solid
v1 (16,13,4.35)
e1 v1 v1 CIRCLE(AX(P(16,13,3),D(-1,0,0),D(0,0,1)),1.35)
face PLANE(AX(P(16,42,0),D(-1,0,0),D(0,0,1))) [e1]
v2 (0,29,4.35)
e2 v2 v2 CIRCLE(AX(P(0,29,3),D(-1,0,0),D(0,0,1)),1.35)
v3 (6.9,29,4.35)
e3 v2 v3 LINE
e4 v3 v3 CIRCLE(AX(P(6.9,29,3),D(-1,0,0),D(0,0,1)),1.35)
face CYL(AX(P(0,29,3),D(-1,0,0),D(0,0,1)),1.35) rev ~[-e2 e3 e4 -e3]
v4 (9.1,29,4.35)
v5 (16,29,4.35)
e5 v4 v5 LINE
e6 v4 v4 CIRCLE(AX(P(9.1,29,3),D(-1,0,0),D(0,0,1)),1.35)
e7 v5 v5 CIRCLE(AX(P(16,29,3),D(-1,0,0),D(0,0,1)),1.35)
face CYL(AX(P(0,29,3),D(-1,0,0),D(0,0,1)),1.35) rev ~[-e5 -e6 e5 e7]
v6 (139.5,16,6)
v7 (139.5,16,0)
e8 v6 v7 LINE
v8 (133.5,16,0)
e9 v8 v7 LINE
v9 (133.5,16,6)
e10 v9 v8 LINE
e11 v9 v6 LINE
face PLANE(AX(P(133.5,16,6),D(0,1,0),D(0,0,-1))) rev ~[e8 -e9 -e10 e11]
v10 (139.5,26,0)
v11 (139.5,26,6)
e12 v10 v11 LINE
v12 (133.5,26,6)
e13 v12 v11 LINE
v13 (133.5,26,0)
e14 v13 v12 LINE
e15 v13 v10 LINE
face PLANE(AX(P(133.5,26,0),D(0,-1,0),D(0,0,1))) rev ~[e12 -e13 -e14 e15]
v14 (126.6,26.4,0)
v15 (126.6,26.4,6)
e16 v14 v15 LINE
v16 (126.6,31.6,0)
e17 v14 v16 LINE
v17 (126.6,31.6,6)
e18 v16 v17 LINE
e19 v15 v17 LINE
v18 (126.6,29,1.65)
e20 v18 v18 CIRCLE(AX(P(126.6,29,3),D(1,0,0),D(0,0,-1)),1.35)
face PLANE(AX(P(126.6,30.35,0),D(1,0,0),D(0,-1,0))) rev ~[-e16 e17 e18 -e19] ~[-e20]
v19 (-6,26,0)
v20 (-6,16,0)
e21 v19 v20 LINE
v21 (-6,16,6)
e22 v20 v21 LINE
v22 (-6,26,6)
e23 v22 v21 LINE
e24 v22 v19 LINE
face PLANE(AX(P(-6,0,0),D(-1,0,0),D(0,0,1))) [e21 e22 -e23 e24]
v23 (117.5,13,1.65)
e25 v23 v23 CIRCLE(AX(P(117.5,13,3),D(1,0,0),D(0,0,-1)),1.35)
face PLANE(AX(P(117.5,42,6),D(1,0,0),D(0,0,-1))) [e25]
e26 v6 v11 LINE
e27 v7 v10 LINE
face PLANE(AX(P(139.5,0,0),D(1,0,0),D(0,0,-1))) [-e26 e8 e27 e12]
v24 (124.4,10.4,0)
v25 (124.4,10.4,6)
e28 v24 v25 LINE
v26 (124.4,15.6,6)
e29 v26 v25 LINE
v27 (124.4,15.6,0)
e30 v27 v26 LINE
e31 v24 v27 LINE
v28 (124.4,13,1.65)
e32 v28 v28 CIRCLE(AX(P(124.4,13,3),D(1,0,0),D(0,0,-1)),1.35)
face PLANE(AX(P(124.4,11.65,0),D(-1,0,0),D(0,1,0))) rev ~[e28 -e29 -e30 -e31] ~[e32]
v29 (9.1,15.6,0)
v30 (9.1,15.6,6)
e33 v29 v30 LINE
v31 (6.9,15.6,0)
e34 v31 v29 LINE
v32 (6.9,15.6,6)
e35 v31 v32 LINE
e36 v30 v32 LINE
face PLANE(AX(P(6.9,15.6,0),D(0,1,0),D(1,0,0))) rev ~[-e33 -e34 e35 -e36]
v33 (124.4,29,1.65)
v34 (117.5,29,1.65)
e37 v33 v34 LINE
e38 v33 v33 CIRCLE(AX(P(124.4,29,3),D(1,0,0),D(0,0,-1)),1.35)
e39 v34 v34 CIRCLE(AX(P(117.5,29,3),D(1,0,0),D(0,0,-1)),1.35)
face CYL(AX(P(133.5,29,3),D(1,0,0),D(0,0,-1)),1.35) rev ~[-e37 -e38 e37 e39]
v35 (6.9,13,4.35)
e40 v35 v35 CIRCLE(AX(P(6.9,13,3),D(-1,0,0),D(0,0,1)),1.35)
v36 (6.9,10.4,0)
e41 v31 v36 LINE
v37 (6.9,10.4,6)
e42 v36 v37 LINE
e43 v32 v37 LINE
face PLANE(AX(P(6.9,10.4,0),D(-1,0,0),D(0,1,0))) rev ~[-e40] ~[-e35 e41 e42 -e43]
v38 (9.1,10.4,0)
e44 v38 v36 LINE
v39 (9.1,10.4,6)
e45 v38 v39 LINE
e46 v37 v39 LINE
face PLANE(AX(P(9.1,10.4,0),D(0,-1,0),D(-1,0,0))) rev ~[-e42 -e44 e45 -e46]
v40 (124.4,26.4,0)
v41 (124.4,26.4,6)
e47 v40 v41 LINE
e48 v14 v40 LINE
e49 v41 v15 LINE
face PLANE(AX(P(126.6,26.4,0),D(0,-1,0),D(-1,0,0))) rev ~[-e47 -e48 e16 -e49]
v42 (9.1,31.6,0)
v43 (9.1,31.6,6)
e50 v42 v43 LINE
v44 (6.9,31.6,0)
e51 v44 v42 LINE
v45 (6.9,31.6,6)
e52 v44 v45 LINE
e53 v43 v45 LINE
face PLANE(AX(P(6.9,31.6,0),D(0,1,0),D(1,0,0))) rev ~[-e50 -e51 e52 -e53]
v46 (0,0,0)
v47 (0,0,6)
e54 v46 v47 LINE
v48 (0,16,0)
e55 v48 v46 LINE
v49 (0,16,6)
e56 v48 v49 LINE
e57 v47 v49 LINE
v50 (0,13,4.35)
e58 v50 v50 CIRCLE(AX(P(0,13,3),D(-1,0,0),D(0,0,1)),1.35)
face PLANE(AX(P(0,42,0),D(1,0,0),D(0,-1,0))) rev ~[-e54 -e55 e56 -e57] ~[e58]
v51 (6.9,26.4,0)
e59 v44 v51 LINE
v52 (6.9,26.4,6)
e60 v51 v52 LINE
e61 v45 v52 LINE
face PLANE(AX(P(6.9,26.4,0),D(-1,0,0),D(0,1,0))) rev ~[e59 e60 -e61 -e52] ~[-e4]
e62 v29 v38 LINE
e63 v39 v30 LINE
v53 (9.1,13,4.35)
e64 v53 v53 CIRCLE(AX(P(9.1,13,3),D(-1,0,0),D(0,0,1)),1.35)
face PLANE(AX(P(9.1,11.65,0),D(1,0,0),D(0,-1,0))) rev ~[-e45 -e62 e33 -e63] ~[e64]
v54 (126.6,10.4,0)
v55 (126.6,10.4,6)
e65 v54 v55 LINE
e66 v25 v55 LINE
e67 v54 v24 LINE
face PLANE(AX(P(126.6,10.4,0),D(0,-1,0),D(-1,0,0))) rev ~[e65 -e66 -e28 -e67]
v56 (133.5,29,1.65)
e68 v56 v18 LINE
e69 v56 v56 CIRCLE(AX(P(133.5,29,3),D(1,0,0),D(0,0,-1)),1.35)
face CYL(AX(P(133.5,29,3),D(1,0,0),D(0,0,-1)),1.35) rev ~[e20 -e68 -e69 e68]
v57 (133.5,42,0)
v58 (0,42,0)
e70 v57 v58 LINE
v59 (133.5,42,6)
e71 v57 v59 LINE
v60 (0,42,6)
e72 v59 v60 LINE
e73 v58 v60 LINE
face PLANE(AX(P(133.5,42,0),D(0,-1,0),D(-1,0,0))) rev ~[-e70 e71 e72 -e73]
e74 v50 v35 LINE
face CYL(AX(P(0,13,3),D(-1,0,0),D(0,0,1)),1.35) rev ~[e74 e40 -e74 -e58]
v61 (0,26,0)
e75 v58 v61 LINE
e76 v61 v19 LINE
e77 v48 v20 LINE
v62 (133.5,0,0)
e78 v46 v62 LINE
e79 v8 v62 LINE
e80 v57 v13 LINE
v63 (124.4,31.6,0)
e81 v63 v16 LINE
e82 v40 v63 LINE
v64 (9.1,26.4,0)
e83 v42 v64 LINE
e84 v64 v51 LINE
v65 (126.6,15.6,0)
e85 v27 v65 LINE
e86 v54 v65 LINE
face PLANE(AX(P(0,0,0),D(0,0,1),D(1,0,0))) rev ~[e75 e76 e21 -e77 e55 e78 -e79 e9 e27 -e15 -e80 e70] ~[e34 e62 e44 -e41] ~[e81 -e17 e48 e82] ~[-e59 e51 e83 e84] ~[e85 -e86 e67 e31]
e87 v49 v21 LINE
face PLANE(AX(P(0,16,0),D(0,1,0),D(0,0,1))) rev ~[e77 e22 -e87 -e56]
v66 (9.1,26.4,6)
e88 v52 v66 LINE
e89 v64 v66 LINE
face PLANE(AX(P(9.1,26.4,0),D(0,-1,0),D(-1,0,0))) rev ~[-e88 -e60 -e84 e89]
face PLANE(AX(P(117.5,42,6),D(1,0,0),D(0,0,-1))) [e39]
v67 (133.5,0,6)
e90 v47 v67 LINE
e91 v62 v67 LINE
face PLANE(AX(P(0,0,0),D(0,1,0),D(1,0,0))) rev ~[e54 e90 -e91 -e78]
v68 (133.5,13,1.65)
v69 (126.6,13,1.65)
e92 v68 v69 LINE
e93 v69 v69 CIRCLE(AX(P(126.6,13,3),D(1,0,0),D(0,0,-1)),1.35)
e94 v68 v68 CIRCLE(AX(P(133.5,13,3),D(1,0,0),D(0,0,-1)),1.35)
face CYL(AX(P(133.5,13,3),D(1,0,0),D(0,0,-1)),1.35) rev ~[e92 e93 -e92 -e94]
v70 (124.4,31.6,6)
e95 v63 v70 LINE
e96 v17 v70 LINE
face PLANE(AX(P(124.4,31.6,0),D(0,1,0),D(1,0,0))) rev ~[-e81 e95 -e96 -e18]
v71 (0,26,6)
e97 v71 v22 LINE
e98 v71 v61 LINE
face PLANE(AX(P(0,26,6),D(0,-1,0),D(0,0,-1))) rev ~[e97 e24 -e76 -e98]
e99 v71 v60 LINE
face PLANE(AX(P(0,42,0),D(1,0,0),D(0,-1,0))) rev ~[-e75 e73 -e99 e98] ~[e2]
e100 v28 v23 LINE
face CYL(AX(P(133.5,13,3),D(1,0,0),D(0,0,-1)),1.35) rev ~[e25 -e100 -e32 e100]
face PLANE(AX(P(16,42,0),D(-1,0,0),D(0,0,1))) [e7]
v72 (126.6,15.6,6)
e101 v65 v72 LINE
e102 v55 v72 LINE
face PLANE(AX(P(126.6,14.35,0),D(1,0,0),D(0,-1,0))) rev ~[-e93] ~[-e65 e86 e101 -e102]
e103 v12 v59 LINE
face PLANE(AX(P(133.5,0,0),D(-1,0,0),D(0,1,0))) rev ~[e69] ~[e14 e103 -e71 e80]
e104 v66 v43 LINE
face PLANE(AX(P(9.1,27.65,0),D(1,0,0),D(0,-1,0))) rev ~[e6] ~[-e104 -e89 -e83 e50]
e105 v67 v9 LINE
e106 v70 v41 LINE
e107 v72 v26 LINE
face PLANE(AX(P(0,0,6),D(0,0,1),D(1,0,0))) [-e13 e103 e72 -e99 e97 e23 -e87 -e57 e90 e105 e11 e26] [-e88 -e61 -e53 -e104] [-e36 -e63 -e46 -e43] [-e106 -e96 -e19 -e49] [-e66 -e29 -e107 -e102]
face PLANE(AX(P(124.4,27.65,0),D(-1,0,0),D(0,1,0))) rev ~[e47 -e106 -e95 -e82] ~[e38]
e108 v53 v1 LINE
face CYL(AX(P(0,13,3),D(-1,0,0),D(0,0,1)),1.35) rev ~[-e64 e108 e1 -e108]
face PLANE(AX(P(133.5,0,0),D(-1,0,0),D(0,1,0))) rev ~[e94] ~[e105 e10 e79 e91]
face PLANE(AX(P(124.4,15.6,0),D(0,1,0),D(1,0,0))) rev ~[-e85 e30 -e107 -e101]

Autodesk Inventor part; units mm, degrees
ref_plane "YZ Plane" through (0, 0, 0) normal (1, 0, 0) x (0, 1, 0)
ref_plane "XZ Plane" through (0, 0, 0) normal (0, 1, 0) x (-1, 0, 0)
ref_plane "XY Plane" through (0, 0, 0) normal (0, 0, 1) x (1, 0, 0)
sketch "스케치1" plane through (0, 0, 0) normal (0, 0, 1) x (1, 0, 0)
  line L0 (0, 0) -> (133.5, 0)
  line L1 (133.5, 0) -> (133.5, 42)
  line L2 (133.5, 42) -> (0, 42)
  line L3 (0, 42) -> (0, 0)
  dimension "d0" = 133.5
  dimension "d1" = 42
extrude "돌출1" add sketch "스케치1" along normal blind 6
sketch "스케치2" plane through (133.5, 0, 0) normal (1, 0, 0) x (0, 0, -1)
  line L0 (0, 0) -> (0, 42) projected
  line L1 (0, 42) -> (-6, 42) projected
  line L2 (-6, 0) -> (-6, 42) projected
  line L3 (0, 0) -> (-6, 0) projected
  line L4 (-6, 16) -> (0, 16)
  line L5 (0, 16) -> (0, 26)
  line L6 (0, 26) -> (-6, 26)
  line L7 (-6, 26) -> (-6, 16)
  line L8 (-6, 16) -> (0, 26) construction
  line L9 (0, 16) -> (-6, 26) construction
  point P0 (-3, 21)
  dimension "d4" = 10
extrude "돌출2" add sketch "스케치2" along normal blind 6 contours L4 L2 L6 L0
sketch "스케치3" plane through (0, 0, 0) normal (-1, 0, 0) x (0, 0, 1)
  line L0 (6, 26) -> (0, 26) projected
  line L1 (0, 16) -> (6, 16) projected
  line L2 (0, 42) -> (0, 0) projected
  line L3 (0, 0) -> (6, 0) projected
  line L4 (6, 42) -> (6, 0) projected
  line L5 (0, 42) -> (6, 42) projected
extrude "돌출3" add sketch "스케치3" along normal blind 6 contours L4 L1 L2 L0
sketch "스케치4" plane through (0, 42, 0) normal (-1, 0, 0) x (0, 0, 1)
  line L0 (0, -16) -> (6, -16) projected
  line L1 (6, 0) -> (6, -16) projected
  line L2 (0, 0) -> (6, 0) projected
  line L3 (0, 0) -> (0, -16) projected
  line L4 (6, -26) -> (0, -26) projected
  line L5 (0, -26) -> (0, -42) projected
  line L6 (0, -42) -> (6, -42) projected
  line L7 (6, -26) -> (6, -42) projected
  line L8 (0, -16) -> (6, -16)
  line L9 (6, -16) -> (6, -10)
  line L10 (6, -10) -> (0, -10)
  line L11 (0, -10) -> (0, -16)
  line L12 (6, -26) -> (0, -26)
  line L13 (0, -26) -> (0, -32)
  line L14 (0, -32) -> (6, -32)
  line L15 (6, -32) -> (6, -26)
  circle A0 centre (3, -13) radius 1.35
  circle A1 centre (3, -29) radius 1.35
  dimension "d9" = 6
  dimension "d10" = 6
  dimension "d11" = 6
  dimension "d12" = 6
  dimension "d13" = 2.7
  dimension "d14" = 2.7
extrude "돌출4" cut sketch "스케치4" against normal blind 16 contours A0 | A1
sketch "스케치5" plane through (133.5, 42, 6) normal (1, 0, 0) x (0, 0, -1)
  circle A0 centre (3, -13) radius 1.35 projected
  circle A1 centre (3, -29) radius 1.35 projected
  point P0 (6, -42)
extrude "돌출5" cut sketch "스케치5" against normal blind 16
sketch "스케치7" plane through (0, 0, 0) normal (0, 0, -1) x (-1, 0, 0)
  line L0 (-133.5, 0) -> (-133.5, 16) projected
  line L1 (-133.5, 11.65) -> (-133.5, 14.35) projected
  line L2 (-133.5, 0) -> (-133.5, 16) projected
  line L3 (-133.5, 11.65) -> (-133.5, 14.35) projected
  line L4 (-133.5, 0) -> (-133.5, 16) projected
  line L5 (-133.5, 0) -> (-133.5, 16) projected
  line L6 (-133.5, 42) -> (0, 42) projected
  line L7 (-133.5, 42) -> (0, 42) projected
  line L8 (0, 0) -> (-133.5, 0) projected
  line L9 (0, 0) -> (-133.5, 0) projected
  line L10 (-133.5, 16) -> (-139.5, 16) projected
  line L11 (-133.5, 16) -> (-139.5, 16) projected
  line L12 (-133.5, 16) -> (-139.5, 16) projected
  line L13 (-133.5, 16) -> (-139.5, 16) projected
  line L14 (-117.5, 11.65) -> (-117.5, 14.35) projected
  line L15 (-117.5, 11.65) -> (-117.5, 14.35) projected
  line L16 (-133.5, 11.65) -> (-133.5, 14.35) projected
  line L17 (-117.5, 11.65) -> (-117.5, 14.35) projected
  line L18 (-133.5, 26) -> (-139.5, 26) projected
  line L19 (-133.5, 26) -> (-139.5, 26) projected
  line L20 (-133.5, 26) -> (-139.5, 26) projected
  line L21 (-133.5, 26) -> (-139.5, 26) projected
  line L22 (-139.5, 26) -> (-139.5, 16) projected
  line L23 (-139.5, 16) -> (-139.5, 26) projected
  line L24 (-117.5, 27.65) -> (-117.5, 30.35) projected
  line L25 (-133.5, 27.65) -> (-133.5, 30.35) projected
  line L26 (-133.5, 26) -> (-133.5, 42) projected
  line L27 (-133.5, 26) -> (-133.5, 42) projected
  line L28 (-133.5, 27.65) -> (-133.5, 30.35) projected
  line L29 (-133.5, 26) -> (-133.5, 42) projected
  line L30 (-133.5, 26) -> (-133.5, 42) projected
  line L31 (0, 16) -> (0, 0) projected
  line L32 (0, 16) -> (0, 0) projected
  line L33 (0, 0) -> (-133.5, 0) projected
  line L34 (0, 0) -> (-133.5, 0) projected
  line L35 (-133.5, 0) -> (-133.5, 16) projected
  line L36 (-133.5, 16) -> (-139.5, 16) projected
  line L37 (-139.5, 26) -> (-139.5, 16) projected
  line L38 (-133.5, 26) -> (-139.5, 26) projected
  line L39 (-133.5, 26) -> (-133.5, 42) projected
  line L40 (-133.5, 42) -> (0, 42) projected
  line L41 (0, 42) -> (0, 26) projected
  line L42 (0, 26) -> (6, 26) projected
  line L43 (6, 16) -> (6, 26) projected
  line L44 (0, 16) -> (6, 16) projected
  line L45 (0, 16) -> (0, 0) projected
  line L46 (0, 0) -> (-133.5, 0) projected
  line L47 (-133.5, 0) -> (-133.5, 16) projected
  line L48 (0, 0) -> (-133.5, 0) projected
  line L49 (0, 16) -> (0, 0) projected
  line L50 (0, 16) -> (6, 16) projected
  line L51 (6, 26) -> (6, 16) projected
  line L52 (0, 26) -> (6, 26) projected
  line L53 (0, 42) -> (0, 26) projected
  line L54 (-133.5, 42) -> (0, 42) projected
  line L55 (-133.5, 26) -> (-133.5, 42) projected
  line L56 (-133.5, 26) -> (-139.5, 26) projected
  line L57 (-139.5, 16) -> (-139.5, 26) projected
  line L58 (-133.5, 16) -> (-139.5, 16) projected
  line L59 (0, 42) -> (0, 26) projected
  line L60 (0, 42) -> (0, 26) projected
  line L61 (-133.5, 42) -> (0, 42) projected
  line L62 (-133.5, 42) -> (0, 42) projected
  line L63 (-133.5, 27.65) -> (-133.5, 30.35) projected
  line L64 (-139.5, 26) -> (-139.5, 16) projected
  line L65 (-139.5, 16) -> (-139.5, 26) projected
  line L66 (-16, 14.35) -> (-16, 11.65) projected
  line L67 (-16, 14.35) -> (-16, 11.65) projected
  line L68 (0, 14.35) -> (0, 11.65) projected
  line L69 (0, 16) -> (0, 0) projected
  line L70 (0, 16) -> (0, 0) projected
  line L71 (-16, 30.35) -> (-16, 27.65) projected
  line L72 (0, 30.35) -> (0, 27.65) projected
  line L73 (-16, 14.35) -> (-16, 11.65) projected
  line L74 (0, 14.35) -> (0, 11.65) projected
  line L75 (0, 14.35) -> (0, 11.65) projected
  line L76 (0, 30.35) -> (0, 27.65) projected
  line L77 (0, 30.35) -> (0, 27.65) projected
  line L78 (0, 42) -> (0, 26) projected
  line L79 (0, 42) -> (0, 26) projected
  line L80 (6, 16) -> (6, 26) projected
  line L81 (0, 16) -> (6, 16) projected
  line L82 (6, 26) -> (6, 16) projected
  line L83 (6, 16) -> (6, 26) projected
  line L84 (0, 16) -> (6, 16) projected
  line L85 (0, 16) -> (6, 16) projected
  line L86 (0, 16) -> (6, 16) projected
  line L87 (0, 26) -> (6, 26) projected
  line L88 (0, 26) -> (6, 26) projected
  line L89 (0, 26) -> (6, 26) projected
  line L90 (6, 26) -> (6, 16) projected
  line L91 (-16, 30.35) -> (-16, 27.65) projected
  line L92 (-16, 30.35) -> (-16, 27.65) projected
  line L93 (0, 26) -> (6, 26) projected
  line L94 (-117.5, 27.65) -> (-117.5, 30.35) projected
  line L95 (-117.5, 27.65) -> (-117.5, 30.35) projected
  line L96 (-133.5, 30.35) -> (-117.5, 30.35) projected
  line L97 (-133.5, 27.65) -> (-117.5, 27.65) projected
  line L98 (-133.5, 14.35) -> (-117.5, 14.35) projected
  line L99 (-133.5, 11.65) -> (-117.5, 11.65) projected
  line L100 (0, 30.35) -> (-16, 30.35) projected
  line L101 (0, 27.65) -> (-16, 27.65) projected
  line L102 (0, 14.35) -> (-16, 14.35) projected
  line L103 (0, 11.65) -> (-16, 11.65) projected
  line L104 (-126.6, 26.4) -> (-124.4, 26.4)
  line L105 (-124.4, 26.4) -> (-124.4, 31.6)
  line L106 (-124.4, 31.6) -> (-126.6, 31.6)
  line L107 (-126.6, 31.6) -> (-126.6, 26.4)
  line L108 (-126.6, 26.4) -> (-124.4, 31.6) construction
  line L109 (-124.4, 26.4) -> (-126.6, 31.6) construction
  line L110 (-126.6, 10.4) -> (-124.4, 10.4)
  line L111 (-124.4, 10.4) -> (-124.4, 15.6)
  line L112 (-124.4, 15.6) -> (-126.6, 15.6)
  line L113 (-126.6, 15.6) -> (-126.6, 10.4)
  line L114 (-126.6, 10.4) -> (-124.4, 15.6) construction
  line L115 (-124.4, 10.4) -> (-126.6, 15.6) construction
  line L116 (-9.1, 26.4) -> (-6.9, 26.4)
  line L117 (-6.9, 26.4) -> (-6.9, 31.6)
  line L118 (-6.9, 31.6) -> (-9.1, 31.6)
  line L119 (-9.1, 31.6) -> (-9.1, 26.4)
  line L120 (-9.1, 26.4) -> (-6.9, 31.6) construction
  line L121 (-6.9, 26.4) -> (-9.1, 31.6) construction
  line L122 (-9.1, 10.4) -> (-6.9, 10.4)
  line L123 (-6.9, 10.4) -> (-6.9, 15.6)
  line L124 (-6.9, 15.6) -> (-9.1, 15.6)
  line L125 (-9.1, 15.6) -> (-9.1, 10.4)
  line L126 (-9.1, 10.4) -> (-6.9, 15.6) construction
  line L127 (-6.9, 10.4) -> (-9.1, 15.6) construction
  point P0 (-125.5, 29)
  point P1 (-125.5, 13)
  point P2 (-8, 29)
  point P3 (-8, 13)
  dimension "d27" = 2.2
  dimension "d28" = 5.2
  dimension "d29" = 5.2
  dimension "d30" = 2.2
  dimension "d31" = 5.2
  dimension "d32" = 5.2
extrude "돌출7" cut sketch "스케치7" against normal blind 16 contours L113 L98 L111 L99 | L99 L111 L110 L113 | L113 L112 L111 L98 | L123 L122 L125 L103 | L103 L125 L102 L123 | L102 L125 L124 L123 | L107 L96 L105 L97 | L97 L105 L104 L107 | L107 L106 L105 L96 | L117 L116 L119 L101 | L101 L119 L100 L117 | L100 L119 L118 L117
sketch "스케치8" plane through (0, 0, 6) normal (0, 0, 1) x (1, 0, 0)
  line L0 (9.1, 26.4) -> (6.9, 26.4) projected
  line L1 (6.9, 26.4) -> (6.9, 31.6) projected
  line L2 (6.9, 31.6) -> (9.1, 31.6) projected
  line L3 (9.1, 31.6) -> (9.1, 26.4) projected
  line L4 (126.6, 10.4) -> (124.4, 10.4) projected
  line L5 (124.4, 10.4) -> (124.4, 15.6) projected
  line L6 (124.4, 15.6) -> (126.6, 15.6) projected
  line L7 (126.6, 15.6) -> (126.6, 10.4) projected
  line L8 (9.1, 10.4) -> (6.9, 10.4) projected
  line L9 (6.9, 10.4) -> (6.9, 15.6) projected
  line L10 (6.9, 15.6) -> (9.1, 15.6) projected
  line L11 (9.1, 15.6) -> (9.1, 10.4) projected
  line L12 (126.6, 26.4) -> (124.4, 26.4) projected
  line L13 (124.4, 26.4) -> (124.4, 31.6) projected
  line L14 (124.4, 31.6) -> (126.6, 31.6) projected
  line L15 (126.6, 31.6) -> (126.6, 26.4) projected
  line L16 (133.5, 0) -> (133.5, 16) projected
  line L17 (133.5, 16) -> (139.5, 16) projected
  line L18 (139.5, 26) -> (139.5, 16) projected
  line L19 (133.5, 26) -> (139.5, 26) projected
  line L20 (133.5, 26) -> (133.5, 42) projected
  line L21 (133.5, 42) -> (0, 42) projected
  line L22 (0, 42) -> (0, 26) projected
  line L23 (0, 26) -> (-6, 26) projected
  line L24 (-6, 16) -> (-6, 26) projected
  line L25 (0, 16) -> (-6, 16) projected
  line L26 (0, 16) -> (0, 0) projected
  line L27 (0, 0) -> (133.5, 0) projected
  line L28 (133.5, 0) -> (0, 0)
  line L29 (0, 0) -> (0, 42)
  line L30 (0, 42) -> (133.5, 42)
  line L31 (133.5, 42) -> (133.5, 0)
extrude "돌출8" cut sketch "스케치8" against normal through all contours L31 L19 L18 L17 | L25 L24 L23 L29
sketch "스케치9" plane through (133.5, 0, 0) normal (1, 0, 0) x (0, 0, -1)
  circle A0 centre (-3, 29) radius 1.35 projected
  circle A1 centre (-3, 13) radius 1.35 projected
  line L0 (-6, 0) -> (-6, 42) projected
  line L1 (0, 0) -> (-6, 0) projected
  line L2 (0, 0) -> (0, 42) projected
  line L3 (0, 42) -> (-6, 42) projected
  line L4 (-6, 16) -> (0, 16)
  line L5 (0, 16) -> (0, 26)
  line L6 (0, 26) -> (-6, 26)
  line L7 (-6, 26) -> (-6, 16)
  line L8 (-6, 16) -> (0, 26) construction
  line L9 (0, 16) -> (-6, 26) construction
  point P0 (-3, 21)
  dimension "d37" = 10
extrude "돌출9" add sketch "스케치9" along normal blind 6 contours L0 L6 L2 L4
sketch "스케치10" plane through (0, 0, 0) normal (-1, 0, 0) x (0, 0, 1)
  line L0 (6, 15.6) -> (6, 10.4) projected
  line L1 (6, 10.4) -> (6, 15.6) projected
  line L2 (0, 15.6) -> (0, 10.4) projected
  line L3 (6, 31.6) -> (6, 26.4) projected
  line L4 (0, 26.4) -> (0, 31.6) projected
  line L5 (0, 10.4) -> (0, 15.6) projected
  line L6 (6, 0) -> (6, 16) projected
  line L7 (0, 0) -> (0, 16) projected
  line L8 (0, 0) -> (6, 0) projected
  line L9 (0, 16) -> (6, 16) projected
  line L10 (6, 0) -> (6, 16) projected
  line L11 (0, 0) -> (6, 0) projected
  line L12 (0, 0) -> (0, 16) projected
  circle A0 centre (3, 13) radius 1.35 projected
  line L13 (6, 26) -> (6, 42) projected
  line L14 (0, 42) -> (6, 42) projected
  line L15 (6, 26) -> (0, 26) projected
  line L16 (0, 26) -> (0, 42) projected
  line L17 (0, 42) -> (6, 42) projected
  line L18 (6, 26) -> (6, 42) projected
  circle A1 centre (3, 29) radius 1.35 projected
  line L19 (0, 26) -> (0, 42) projected
  line L20 (0, 31.6) -> (0, 26.4) projected
  line L21 (6, 26.4) -> (6, 31.6) projected
  line L22 (6, 31.6) -> (6, 26.4) projected
  line L23 (6, 26.4) -> (6, 31.6) projected
  circle A2 centre (3, 29) radius 1.35 projected
  circle A3 centre (3, 29) radius 1.35 projected
  circle A4 centre (3, 13) radius 1.35 projected
  circle A5 centre (3, 13) radius 1.35 projected
  circle A6 centre (3, 29) radius 1.35 projected
  line L24 (0, 31.6) -> (6, 31.6) projected
  line L25 (0, 26.4) -> (6, 26.4) projected
  line L26 (6, 31.6) -> (6, 26.4) projected
  line L27 (0, 31.6) -> (6, 31.6) projected
  line L28 (0, 26.4) -> (0, 31.6) projected
  line L29 (0, 26.4) -> (6, 26.4) projected
  circle A7 centre (3, 29) radius 1.35 projected
  circle A8 centre (3, 29) radius 1.35 projected
  circle A9 centre (3, 29) radius 1.35 projected
  circle A10 centre (3, 13) radius 1.35 projected
  circle A11 centre (3, 13) radius 1.35 projected
  line L30 (0, 31.6) -> (6, 31.6) projected
  line L31 (0, 31.6) -> (6, 31.6) projected
  line L32 (0, 31.6) -> (6, 31.6) projected
  circle A12 centre (3, 29) radius 1.35 projected
  line L33 (0, 26.4) -> (6, 26.4) projected
  line L34 (6, 26.4) -> (6, 31.6) projected
  line L35 (0, 26.4) -> (6, 26.4) projected
  line L36 (0, 31.6) -> (0, 26.4) projected
  line L37 (0, 31.6) -> (6, 31.6) projected
  circle A13 centre (3, 29) radius 1.35 projected
  line L38 (0, 26.4) -> (6, 26.4) projected
  line L39 (0, 26.4) -> (6, 26.4) projected
  line L40 (0, 31.6) -> (0, 26.4) projected
  line L41 (0, 26.4) -> (0, 31.6) projected
  line L42 (6, 15.6) -> (6, 10.4) projected
  line L43 (0, 42) -> (6, 42) projected
  line L44 (0, 42) -> (6, 42) projected
  line L45 (6, 0) -> (6, 16) projected
  line L46 (6, 26) -> (6, 16) projected
  line L47 (6, 26) -> (6, 42) projected
  line L48 (6, 42) -> (6, 0) projected
  line L49 (6, 26.4) -> (6, 31.6) projected
  line L50 (6, 31.6) -> (6, 26.4) projected
  line L51 (6, 10.4) -> (6, 15.6) projected
  line L52 (6, 15.6) -> (6, 10.4) projected
  line L53 (6, 10.4) -> (6, 15.6) projected
  line L54 (6, 15.6) -> (6, 10.4) projected
  line L55 (6, 26.4) -> (6, 31.6) projected
  line L56 (6, 31.6) -> (6, 26.4) projected
  line L57 (0, 0) -> (0, 16) projected
  line L58 (0, 42) -> (0, 0) projected
  line L59 (0, 26) -> (0, 42) projected
  line L60 (0, 16) -> (0, 26) projected
  line L61 (0, 26.4) -> (0, 31.6) projected
  line L62 (0, 31.6) -> (0, 26.4) projected
  line L63 (0, 10.4) -> (0, 15.6) projected
  line L64 (0, 15.6) -> (0, 10.4) projected
  line L65 (0, 10.4) -> (0, 15.6) projected
  line L66 (0, 15.6) -> (0, 10.4) projected
  line L67 (0, 26.4) -> (0, 31.6) projected
  line L68 (0, 31.6) -> (0, 26.4) projected
  line L69 (0, 0) -> (6, 0) projected
  line L70 (0, 0) -> (6, 0) projected
  line L71 (0, 10.4) -> (0, 15.6) projected
  line L72 (0, 15.6) -> (0, 10.4) projected
  line L73 (6, 10.4) -> (6, 15.6) projected
  line L74 (6, 42) -> (6, 0) projected
  circle A14 centre (3, 29) radius 1.35 projected
  circle A15 centre (3, 13) radius 1.35 projected
  line L75 (0, 16) -> (0, 26) projected
  line L76 (6, 26) -> (6, 16) projected
  line L77 (6, 16) -> (0, 16) projected
  line L78 (0, 16) -> (6, 16) projected
  line L79 (0, 26) -> (6, 26) projected
  line L80 (6, 26) -> (0, 26) projected
  line L81 (6, 26) -> (6, 16) projected
  line L82 (6, 16) -> (0, 16) projected
  line L83 (0, 16) -> (0, 26) projected
  line L84 (0, 26) -> (6, 26) projected
  line L85 (0, 16) -> (6, 16) projected
  line L86 (6, 16) -> (0, 16) projected
  line L87 (6, 26) -> (0, 26) projected
  line L88 (0, 26) -> (6, 26) projected
  circle A16 centre (3, 29) radius 1.35 projected
  line L89 (0, 31.6) -> (6, 31.6) projected
  line L90 (0, 31.6) -> (6, 31.6) projected
  circle A17 centre (3, 29) radius 1.35 projected
  line L91 (0, 26.4) -> (6, 26.4) projected
  line L92 (0, 15.6) -> (6, 15.6) projected
  line L93 (0, 26.4) -> (6, 26.4) projected
  circle A18 centre (3, 13) radius 1.35 projected
  circle A19 centre (3, 13) radius 1.35 projected
  line L94 (0, 15.6) -> (6, 15.6) projected
  line L95 (0, 10.4) -> (6, 10.4) projected
  line L96 (0, 10.4) -> (6, 10.4) projected
  circle A20 centre (3, 13) radius 1.35 projected
  line L97 (0, 15.6) -> (6, 15.6) projected
  line L98 (0, 15.6) -> (6, 15.6) projected
  circle A21 centre (3, 13) radius 1.35 projected
  line L99 (0, 10.4) -> (6, 10.4) projected
  line L100 (0, 10.4) -> (6, 10.4) projected
  line L101 (6, 10.4) -> (6, 15.6) projected
  line L102 (0, 10.4) -> (6, 10.4) projected
  line L103 (0, 15.6) -> (0, 10.4) projected
  line L104 (0, 15.6) -> (6, 15.6) projected
  circle A22 centre (3, 13) radius 1.35 projected
  line L105 (0, 15.6) -> (6, 15.6) projected
  line L106 (0, 15.6) -> (6, 15.6) projected
  line L107 (6, 15.6) -> (6, 10.4) projected
  line L108 (0, 15.6) -> (6, 15.6) projected
  line L109 (0, 10.4) -> (0, 15.6) projected
  line L110 (0, 10.4) -> (6, 10.4) projected
  circle A23 centre (3, 13) radius 1.35 projected
  line L111 (0, 0) -> (6, 0) projected
  line L112 (0, 42) -> (0, 0) projected
  circle A24 centre (3, 13) radius 1.35 projected
  circle A25 centre (3, 29) radius 1.35 projected
  line L113 (6, 42) -> (6, 0) projected
  line L114 (0, 42) -> (6, 42) projected
  line L115 (0, 42) -> (0, 0) projected
  line L116 (0, 0) -> (6, 0) projected
  circle A26 centre (3, 13) radius 1.35 projected
  circle A27 centre (3, 29) radius 1.35 projected
  circle A28 centre (3, 13) radius 1.35 projected
  circle A29 centre (3, 13) radius 1.35 projected
  circle A30 centre (3, 13) radius 1.35 projected
  line L117 (0, 42) -> (6, 42) projected
  circle A31 centre (3, 29) radius 1.35 projected
  circle A32 centre (3, 29) radius 1.35 projected
  circle A33 centre (3, 29) radius 1.35 projected
  circle A34 centre (3, 13) radius 1.35 projected
  circle A35 centre (3, 29) radius 1.35 projected
  circle A36 centre (3, 13) radius 1.35 projected
  circle A37 centre (3, 13) radius 1.35 projected
  circle A38 centre (3, 29) radius 1.35 projected
  circle A39 centre (3, 29) radius 1.35 projected
  line L118 (6, 10.4) -> (6, 15.6) projected
  line L119 (0, 10.4) -> (6, 10.4) projected
  line L120 (0, 15.6) -> (0, 10.4) projected
  line L121 (0, 15.6) -> (6, 15.6) projected
  circle A40 centre (3, 13) radius 1.35 projected
  line L122 (6, 26.4) -> (6, 31.6) projected
  line L123 (0, 26.4) -> (6, 26.4) projected
  line L124 (0, 31.6) -> (0, 26.4) projected
  line L125 (0, 31.6) -> (6, 31.6) projected
  circle A41 centre (3, 29) radius 1.35 projected
  line L126 (0, 10.4) -> (6, 10.4) projected
  line L127 (0, 10.4) -> (6, 10.4) projected
  line L128 (0, 15.6) -> (6, 15.6) projected
  line L129 (0, 15.6) -> (6, 15.6) projected
  line L130 (0, 26.4) -> (6, 26.4) projected
  line L131 (0, 26.4) -> (6, 26.4) projected
  line L132 (0, 31.6) -> (6, 31.6) projected
  line L133 (0, 31.6) -> (6, 31.6) projected
  line L134 (6, 15.6) -> (6, 10.4) projected
  line L135 (0, 15.6) -> (6, 15.6) projected
  line L136 (0, 10.4) -> (0, 15.6) projected
  line L137 (0, 10.4) -> (6, 10.4) projected
  circle A42 centre (3, 13) radius 1.35 projected
  circle A43 centre (3, 29) radius 1.35 projected
  circle A44 centre (3, 29) radius 1.35 projected
  circle A45 centre (3, 13) radius 1.35 projected
  circle A46 centre (3, 13) radius 1.35 projected
  line L138 (6, 31.6) -> (6, 26.4) projected
  line L139 (0, 31.6) -> (6, 31.6) projected
  line L140 (0, 26.4) -> (0, 31.6) projected
  line L141 (0, 26.4) -> (6, 26.4) projected
  circle A47 centre (3, 29) radius 1.35 projected
  line L142 (0, 10.4) -> (6, 10.4) projected
  line L143 (0, 10.4) -> (6, 10.4) projected
extrude "돌출10" add sketch "스케치10" along normal blind 6 contours L9 L58 L15 L46
properties part number "frame_upper3"
